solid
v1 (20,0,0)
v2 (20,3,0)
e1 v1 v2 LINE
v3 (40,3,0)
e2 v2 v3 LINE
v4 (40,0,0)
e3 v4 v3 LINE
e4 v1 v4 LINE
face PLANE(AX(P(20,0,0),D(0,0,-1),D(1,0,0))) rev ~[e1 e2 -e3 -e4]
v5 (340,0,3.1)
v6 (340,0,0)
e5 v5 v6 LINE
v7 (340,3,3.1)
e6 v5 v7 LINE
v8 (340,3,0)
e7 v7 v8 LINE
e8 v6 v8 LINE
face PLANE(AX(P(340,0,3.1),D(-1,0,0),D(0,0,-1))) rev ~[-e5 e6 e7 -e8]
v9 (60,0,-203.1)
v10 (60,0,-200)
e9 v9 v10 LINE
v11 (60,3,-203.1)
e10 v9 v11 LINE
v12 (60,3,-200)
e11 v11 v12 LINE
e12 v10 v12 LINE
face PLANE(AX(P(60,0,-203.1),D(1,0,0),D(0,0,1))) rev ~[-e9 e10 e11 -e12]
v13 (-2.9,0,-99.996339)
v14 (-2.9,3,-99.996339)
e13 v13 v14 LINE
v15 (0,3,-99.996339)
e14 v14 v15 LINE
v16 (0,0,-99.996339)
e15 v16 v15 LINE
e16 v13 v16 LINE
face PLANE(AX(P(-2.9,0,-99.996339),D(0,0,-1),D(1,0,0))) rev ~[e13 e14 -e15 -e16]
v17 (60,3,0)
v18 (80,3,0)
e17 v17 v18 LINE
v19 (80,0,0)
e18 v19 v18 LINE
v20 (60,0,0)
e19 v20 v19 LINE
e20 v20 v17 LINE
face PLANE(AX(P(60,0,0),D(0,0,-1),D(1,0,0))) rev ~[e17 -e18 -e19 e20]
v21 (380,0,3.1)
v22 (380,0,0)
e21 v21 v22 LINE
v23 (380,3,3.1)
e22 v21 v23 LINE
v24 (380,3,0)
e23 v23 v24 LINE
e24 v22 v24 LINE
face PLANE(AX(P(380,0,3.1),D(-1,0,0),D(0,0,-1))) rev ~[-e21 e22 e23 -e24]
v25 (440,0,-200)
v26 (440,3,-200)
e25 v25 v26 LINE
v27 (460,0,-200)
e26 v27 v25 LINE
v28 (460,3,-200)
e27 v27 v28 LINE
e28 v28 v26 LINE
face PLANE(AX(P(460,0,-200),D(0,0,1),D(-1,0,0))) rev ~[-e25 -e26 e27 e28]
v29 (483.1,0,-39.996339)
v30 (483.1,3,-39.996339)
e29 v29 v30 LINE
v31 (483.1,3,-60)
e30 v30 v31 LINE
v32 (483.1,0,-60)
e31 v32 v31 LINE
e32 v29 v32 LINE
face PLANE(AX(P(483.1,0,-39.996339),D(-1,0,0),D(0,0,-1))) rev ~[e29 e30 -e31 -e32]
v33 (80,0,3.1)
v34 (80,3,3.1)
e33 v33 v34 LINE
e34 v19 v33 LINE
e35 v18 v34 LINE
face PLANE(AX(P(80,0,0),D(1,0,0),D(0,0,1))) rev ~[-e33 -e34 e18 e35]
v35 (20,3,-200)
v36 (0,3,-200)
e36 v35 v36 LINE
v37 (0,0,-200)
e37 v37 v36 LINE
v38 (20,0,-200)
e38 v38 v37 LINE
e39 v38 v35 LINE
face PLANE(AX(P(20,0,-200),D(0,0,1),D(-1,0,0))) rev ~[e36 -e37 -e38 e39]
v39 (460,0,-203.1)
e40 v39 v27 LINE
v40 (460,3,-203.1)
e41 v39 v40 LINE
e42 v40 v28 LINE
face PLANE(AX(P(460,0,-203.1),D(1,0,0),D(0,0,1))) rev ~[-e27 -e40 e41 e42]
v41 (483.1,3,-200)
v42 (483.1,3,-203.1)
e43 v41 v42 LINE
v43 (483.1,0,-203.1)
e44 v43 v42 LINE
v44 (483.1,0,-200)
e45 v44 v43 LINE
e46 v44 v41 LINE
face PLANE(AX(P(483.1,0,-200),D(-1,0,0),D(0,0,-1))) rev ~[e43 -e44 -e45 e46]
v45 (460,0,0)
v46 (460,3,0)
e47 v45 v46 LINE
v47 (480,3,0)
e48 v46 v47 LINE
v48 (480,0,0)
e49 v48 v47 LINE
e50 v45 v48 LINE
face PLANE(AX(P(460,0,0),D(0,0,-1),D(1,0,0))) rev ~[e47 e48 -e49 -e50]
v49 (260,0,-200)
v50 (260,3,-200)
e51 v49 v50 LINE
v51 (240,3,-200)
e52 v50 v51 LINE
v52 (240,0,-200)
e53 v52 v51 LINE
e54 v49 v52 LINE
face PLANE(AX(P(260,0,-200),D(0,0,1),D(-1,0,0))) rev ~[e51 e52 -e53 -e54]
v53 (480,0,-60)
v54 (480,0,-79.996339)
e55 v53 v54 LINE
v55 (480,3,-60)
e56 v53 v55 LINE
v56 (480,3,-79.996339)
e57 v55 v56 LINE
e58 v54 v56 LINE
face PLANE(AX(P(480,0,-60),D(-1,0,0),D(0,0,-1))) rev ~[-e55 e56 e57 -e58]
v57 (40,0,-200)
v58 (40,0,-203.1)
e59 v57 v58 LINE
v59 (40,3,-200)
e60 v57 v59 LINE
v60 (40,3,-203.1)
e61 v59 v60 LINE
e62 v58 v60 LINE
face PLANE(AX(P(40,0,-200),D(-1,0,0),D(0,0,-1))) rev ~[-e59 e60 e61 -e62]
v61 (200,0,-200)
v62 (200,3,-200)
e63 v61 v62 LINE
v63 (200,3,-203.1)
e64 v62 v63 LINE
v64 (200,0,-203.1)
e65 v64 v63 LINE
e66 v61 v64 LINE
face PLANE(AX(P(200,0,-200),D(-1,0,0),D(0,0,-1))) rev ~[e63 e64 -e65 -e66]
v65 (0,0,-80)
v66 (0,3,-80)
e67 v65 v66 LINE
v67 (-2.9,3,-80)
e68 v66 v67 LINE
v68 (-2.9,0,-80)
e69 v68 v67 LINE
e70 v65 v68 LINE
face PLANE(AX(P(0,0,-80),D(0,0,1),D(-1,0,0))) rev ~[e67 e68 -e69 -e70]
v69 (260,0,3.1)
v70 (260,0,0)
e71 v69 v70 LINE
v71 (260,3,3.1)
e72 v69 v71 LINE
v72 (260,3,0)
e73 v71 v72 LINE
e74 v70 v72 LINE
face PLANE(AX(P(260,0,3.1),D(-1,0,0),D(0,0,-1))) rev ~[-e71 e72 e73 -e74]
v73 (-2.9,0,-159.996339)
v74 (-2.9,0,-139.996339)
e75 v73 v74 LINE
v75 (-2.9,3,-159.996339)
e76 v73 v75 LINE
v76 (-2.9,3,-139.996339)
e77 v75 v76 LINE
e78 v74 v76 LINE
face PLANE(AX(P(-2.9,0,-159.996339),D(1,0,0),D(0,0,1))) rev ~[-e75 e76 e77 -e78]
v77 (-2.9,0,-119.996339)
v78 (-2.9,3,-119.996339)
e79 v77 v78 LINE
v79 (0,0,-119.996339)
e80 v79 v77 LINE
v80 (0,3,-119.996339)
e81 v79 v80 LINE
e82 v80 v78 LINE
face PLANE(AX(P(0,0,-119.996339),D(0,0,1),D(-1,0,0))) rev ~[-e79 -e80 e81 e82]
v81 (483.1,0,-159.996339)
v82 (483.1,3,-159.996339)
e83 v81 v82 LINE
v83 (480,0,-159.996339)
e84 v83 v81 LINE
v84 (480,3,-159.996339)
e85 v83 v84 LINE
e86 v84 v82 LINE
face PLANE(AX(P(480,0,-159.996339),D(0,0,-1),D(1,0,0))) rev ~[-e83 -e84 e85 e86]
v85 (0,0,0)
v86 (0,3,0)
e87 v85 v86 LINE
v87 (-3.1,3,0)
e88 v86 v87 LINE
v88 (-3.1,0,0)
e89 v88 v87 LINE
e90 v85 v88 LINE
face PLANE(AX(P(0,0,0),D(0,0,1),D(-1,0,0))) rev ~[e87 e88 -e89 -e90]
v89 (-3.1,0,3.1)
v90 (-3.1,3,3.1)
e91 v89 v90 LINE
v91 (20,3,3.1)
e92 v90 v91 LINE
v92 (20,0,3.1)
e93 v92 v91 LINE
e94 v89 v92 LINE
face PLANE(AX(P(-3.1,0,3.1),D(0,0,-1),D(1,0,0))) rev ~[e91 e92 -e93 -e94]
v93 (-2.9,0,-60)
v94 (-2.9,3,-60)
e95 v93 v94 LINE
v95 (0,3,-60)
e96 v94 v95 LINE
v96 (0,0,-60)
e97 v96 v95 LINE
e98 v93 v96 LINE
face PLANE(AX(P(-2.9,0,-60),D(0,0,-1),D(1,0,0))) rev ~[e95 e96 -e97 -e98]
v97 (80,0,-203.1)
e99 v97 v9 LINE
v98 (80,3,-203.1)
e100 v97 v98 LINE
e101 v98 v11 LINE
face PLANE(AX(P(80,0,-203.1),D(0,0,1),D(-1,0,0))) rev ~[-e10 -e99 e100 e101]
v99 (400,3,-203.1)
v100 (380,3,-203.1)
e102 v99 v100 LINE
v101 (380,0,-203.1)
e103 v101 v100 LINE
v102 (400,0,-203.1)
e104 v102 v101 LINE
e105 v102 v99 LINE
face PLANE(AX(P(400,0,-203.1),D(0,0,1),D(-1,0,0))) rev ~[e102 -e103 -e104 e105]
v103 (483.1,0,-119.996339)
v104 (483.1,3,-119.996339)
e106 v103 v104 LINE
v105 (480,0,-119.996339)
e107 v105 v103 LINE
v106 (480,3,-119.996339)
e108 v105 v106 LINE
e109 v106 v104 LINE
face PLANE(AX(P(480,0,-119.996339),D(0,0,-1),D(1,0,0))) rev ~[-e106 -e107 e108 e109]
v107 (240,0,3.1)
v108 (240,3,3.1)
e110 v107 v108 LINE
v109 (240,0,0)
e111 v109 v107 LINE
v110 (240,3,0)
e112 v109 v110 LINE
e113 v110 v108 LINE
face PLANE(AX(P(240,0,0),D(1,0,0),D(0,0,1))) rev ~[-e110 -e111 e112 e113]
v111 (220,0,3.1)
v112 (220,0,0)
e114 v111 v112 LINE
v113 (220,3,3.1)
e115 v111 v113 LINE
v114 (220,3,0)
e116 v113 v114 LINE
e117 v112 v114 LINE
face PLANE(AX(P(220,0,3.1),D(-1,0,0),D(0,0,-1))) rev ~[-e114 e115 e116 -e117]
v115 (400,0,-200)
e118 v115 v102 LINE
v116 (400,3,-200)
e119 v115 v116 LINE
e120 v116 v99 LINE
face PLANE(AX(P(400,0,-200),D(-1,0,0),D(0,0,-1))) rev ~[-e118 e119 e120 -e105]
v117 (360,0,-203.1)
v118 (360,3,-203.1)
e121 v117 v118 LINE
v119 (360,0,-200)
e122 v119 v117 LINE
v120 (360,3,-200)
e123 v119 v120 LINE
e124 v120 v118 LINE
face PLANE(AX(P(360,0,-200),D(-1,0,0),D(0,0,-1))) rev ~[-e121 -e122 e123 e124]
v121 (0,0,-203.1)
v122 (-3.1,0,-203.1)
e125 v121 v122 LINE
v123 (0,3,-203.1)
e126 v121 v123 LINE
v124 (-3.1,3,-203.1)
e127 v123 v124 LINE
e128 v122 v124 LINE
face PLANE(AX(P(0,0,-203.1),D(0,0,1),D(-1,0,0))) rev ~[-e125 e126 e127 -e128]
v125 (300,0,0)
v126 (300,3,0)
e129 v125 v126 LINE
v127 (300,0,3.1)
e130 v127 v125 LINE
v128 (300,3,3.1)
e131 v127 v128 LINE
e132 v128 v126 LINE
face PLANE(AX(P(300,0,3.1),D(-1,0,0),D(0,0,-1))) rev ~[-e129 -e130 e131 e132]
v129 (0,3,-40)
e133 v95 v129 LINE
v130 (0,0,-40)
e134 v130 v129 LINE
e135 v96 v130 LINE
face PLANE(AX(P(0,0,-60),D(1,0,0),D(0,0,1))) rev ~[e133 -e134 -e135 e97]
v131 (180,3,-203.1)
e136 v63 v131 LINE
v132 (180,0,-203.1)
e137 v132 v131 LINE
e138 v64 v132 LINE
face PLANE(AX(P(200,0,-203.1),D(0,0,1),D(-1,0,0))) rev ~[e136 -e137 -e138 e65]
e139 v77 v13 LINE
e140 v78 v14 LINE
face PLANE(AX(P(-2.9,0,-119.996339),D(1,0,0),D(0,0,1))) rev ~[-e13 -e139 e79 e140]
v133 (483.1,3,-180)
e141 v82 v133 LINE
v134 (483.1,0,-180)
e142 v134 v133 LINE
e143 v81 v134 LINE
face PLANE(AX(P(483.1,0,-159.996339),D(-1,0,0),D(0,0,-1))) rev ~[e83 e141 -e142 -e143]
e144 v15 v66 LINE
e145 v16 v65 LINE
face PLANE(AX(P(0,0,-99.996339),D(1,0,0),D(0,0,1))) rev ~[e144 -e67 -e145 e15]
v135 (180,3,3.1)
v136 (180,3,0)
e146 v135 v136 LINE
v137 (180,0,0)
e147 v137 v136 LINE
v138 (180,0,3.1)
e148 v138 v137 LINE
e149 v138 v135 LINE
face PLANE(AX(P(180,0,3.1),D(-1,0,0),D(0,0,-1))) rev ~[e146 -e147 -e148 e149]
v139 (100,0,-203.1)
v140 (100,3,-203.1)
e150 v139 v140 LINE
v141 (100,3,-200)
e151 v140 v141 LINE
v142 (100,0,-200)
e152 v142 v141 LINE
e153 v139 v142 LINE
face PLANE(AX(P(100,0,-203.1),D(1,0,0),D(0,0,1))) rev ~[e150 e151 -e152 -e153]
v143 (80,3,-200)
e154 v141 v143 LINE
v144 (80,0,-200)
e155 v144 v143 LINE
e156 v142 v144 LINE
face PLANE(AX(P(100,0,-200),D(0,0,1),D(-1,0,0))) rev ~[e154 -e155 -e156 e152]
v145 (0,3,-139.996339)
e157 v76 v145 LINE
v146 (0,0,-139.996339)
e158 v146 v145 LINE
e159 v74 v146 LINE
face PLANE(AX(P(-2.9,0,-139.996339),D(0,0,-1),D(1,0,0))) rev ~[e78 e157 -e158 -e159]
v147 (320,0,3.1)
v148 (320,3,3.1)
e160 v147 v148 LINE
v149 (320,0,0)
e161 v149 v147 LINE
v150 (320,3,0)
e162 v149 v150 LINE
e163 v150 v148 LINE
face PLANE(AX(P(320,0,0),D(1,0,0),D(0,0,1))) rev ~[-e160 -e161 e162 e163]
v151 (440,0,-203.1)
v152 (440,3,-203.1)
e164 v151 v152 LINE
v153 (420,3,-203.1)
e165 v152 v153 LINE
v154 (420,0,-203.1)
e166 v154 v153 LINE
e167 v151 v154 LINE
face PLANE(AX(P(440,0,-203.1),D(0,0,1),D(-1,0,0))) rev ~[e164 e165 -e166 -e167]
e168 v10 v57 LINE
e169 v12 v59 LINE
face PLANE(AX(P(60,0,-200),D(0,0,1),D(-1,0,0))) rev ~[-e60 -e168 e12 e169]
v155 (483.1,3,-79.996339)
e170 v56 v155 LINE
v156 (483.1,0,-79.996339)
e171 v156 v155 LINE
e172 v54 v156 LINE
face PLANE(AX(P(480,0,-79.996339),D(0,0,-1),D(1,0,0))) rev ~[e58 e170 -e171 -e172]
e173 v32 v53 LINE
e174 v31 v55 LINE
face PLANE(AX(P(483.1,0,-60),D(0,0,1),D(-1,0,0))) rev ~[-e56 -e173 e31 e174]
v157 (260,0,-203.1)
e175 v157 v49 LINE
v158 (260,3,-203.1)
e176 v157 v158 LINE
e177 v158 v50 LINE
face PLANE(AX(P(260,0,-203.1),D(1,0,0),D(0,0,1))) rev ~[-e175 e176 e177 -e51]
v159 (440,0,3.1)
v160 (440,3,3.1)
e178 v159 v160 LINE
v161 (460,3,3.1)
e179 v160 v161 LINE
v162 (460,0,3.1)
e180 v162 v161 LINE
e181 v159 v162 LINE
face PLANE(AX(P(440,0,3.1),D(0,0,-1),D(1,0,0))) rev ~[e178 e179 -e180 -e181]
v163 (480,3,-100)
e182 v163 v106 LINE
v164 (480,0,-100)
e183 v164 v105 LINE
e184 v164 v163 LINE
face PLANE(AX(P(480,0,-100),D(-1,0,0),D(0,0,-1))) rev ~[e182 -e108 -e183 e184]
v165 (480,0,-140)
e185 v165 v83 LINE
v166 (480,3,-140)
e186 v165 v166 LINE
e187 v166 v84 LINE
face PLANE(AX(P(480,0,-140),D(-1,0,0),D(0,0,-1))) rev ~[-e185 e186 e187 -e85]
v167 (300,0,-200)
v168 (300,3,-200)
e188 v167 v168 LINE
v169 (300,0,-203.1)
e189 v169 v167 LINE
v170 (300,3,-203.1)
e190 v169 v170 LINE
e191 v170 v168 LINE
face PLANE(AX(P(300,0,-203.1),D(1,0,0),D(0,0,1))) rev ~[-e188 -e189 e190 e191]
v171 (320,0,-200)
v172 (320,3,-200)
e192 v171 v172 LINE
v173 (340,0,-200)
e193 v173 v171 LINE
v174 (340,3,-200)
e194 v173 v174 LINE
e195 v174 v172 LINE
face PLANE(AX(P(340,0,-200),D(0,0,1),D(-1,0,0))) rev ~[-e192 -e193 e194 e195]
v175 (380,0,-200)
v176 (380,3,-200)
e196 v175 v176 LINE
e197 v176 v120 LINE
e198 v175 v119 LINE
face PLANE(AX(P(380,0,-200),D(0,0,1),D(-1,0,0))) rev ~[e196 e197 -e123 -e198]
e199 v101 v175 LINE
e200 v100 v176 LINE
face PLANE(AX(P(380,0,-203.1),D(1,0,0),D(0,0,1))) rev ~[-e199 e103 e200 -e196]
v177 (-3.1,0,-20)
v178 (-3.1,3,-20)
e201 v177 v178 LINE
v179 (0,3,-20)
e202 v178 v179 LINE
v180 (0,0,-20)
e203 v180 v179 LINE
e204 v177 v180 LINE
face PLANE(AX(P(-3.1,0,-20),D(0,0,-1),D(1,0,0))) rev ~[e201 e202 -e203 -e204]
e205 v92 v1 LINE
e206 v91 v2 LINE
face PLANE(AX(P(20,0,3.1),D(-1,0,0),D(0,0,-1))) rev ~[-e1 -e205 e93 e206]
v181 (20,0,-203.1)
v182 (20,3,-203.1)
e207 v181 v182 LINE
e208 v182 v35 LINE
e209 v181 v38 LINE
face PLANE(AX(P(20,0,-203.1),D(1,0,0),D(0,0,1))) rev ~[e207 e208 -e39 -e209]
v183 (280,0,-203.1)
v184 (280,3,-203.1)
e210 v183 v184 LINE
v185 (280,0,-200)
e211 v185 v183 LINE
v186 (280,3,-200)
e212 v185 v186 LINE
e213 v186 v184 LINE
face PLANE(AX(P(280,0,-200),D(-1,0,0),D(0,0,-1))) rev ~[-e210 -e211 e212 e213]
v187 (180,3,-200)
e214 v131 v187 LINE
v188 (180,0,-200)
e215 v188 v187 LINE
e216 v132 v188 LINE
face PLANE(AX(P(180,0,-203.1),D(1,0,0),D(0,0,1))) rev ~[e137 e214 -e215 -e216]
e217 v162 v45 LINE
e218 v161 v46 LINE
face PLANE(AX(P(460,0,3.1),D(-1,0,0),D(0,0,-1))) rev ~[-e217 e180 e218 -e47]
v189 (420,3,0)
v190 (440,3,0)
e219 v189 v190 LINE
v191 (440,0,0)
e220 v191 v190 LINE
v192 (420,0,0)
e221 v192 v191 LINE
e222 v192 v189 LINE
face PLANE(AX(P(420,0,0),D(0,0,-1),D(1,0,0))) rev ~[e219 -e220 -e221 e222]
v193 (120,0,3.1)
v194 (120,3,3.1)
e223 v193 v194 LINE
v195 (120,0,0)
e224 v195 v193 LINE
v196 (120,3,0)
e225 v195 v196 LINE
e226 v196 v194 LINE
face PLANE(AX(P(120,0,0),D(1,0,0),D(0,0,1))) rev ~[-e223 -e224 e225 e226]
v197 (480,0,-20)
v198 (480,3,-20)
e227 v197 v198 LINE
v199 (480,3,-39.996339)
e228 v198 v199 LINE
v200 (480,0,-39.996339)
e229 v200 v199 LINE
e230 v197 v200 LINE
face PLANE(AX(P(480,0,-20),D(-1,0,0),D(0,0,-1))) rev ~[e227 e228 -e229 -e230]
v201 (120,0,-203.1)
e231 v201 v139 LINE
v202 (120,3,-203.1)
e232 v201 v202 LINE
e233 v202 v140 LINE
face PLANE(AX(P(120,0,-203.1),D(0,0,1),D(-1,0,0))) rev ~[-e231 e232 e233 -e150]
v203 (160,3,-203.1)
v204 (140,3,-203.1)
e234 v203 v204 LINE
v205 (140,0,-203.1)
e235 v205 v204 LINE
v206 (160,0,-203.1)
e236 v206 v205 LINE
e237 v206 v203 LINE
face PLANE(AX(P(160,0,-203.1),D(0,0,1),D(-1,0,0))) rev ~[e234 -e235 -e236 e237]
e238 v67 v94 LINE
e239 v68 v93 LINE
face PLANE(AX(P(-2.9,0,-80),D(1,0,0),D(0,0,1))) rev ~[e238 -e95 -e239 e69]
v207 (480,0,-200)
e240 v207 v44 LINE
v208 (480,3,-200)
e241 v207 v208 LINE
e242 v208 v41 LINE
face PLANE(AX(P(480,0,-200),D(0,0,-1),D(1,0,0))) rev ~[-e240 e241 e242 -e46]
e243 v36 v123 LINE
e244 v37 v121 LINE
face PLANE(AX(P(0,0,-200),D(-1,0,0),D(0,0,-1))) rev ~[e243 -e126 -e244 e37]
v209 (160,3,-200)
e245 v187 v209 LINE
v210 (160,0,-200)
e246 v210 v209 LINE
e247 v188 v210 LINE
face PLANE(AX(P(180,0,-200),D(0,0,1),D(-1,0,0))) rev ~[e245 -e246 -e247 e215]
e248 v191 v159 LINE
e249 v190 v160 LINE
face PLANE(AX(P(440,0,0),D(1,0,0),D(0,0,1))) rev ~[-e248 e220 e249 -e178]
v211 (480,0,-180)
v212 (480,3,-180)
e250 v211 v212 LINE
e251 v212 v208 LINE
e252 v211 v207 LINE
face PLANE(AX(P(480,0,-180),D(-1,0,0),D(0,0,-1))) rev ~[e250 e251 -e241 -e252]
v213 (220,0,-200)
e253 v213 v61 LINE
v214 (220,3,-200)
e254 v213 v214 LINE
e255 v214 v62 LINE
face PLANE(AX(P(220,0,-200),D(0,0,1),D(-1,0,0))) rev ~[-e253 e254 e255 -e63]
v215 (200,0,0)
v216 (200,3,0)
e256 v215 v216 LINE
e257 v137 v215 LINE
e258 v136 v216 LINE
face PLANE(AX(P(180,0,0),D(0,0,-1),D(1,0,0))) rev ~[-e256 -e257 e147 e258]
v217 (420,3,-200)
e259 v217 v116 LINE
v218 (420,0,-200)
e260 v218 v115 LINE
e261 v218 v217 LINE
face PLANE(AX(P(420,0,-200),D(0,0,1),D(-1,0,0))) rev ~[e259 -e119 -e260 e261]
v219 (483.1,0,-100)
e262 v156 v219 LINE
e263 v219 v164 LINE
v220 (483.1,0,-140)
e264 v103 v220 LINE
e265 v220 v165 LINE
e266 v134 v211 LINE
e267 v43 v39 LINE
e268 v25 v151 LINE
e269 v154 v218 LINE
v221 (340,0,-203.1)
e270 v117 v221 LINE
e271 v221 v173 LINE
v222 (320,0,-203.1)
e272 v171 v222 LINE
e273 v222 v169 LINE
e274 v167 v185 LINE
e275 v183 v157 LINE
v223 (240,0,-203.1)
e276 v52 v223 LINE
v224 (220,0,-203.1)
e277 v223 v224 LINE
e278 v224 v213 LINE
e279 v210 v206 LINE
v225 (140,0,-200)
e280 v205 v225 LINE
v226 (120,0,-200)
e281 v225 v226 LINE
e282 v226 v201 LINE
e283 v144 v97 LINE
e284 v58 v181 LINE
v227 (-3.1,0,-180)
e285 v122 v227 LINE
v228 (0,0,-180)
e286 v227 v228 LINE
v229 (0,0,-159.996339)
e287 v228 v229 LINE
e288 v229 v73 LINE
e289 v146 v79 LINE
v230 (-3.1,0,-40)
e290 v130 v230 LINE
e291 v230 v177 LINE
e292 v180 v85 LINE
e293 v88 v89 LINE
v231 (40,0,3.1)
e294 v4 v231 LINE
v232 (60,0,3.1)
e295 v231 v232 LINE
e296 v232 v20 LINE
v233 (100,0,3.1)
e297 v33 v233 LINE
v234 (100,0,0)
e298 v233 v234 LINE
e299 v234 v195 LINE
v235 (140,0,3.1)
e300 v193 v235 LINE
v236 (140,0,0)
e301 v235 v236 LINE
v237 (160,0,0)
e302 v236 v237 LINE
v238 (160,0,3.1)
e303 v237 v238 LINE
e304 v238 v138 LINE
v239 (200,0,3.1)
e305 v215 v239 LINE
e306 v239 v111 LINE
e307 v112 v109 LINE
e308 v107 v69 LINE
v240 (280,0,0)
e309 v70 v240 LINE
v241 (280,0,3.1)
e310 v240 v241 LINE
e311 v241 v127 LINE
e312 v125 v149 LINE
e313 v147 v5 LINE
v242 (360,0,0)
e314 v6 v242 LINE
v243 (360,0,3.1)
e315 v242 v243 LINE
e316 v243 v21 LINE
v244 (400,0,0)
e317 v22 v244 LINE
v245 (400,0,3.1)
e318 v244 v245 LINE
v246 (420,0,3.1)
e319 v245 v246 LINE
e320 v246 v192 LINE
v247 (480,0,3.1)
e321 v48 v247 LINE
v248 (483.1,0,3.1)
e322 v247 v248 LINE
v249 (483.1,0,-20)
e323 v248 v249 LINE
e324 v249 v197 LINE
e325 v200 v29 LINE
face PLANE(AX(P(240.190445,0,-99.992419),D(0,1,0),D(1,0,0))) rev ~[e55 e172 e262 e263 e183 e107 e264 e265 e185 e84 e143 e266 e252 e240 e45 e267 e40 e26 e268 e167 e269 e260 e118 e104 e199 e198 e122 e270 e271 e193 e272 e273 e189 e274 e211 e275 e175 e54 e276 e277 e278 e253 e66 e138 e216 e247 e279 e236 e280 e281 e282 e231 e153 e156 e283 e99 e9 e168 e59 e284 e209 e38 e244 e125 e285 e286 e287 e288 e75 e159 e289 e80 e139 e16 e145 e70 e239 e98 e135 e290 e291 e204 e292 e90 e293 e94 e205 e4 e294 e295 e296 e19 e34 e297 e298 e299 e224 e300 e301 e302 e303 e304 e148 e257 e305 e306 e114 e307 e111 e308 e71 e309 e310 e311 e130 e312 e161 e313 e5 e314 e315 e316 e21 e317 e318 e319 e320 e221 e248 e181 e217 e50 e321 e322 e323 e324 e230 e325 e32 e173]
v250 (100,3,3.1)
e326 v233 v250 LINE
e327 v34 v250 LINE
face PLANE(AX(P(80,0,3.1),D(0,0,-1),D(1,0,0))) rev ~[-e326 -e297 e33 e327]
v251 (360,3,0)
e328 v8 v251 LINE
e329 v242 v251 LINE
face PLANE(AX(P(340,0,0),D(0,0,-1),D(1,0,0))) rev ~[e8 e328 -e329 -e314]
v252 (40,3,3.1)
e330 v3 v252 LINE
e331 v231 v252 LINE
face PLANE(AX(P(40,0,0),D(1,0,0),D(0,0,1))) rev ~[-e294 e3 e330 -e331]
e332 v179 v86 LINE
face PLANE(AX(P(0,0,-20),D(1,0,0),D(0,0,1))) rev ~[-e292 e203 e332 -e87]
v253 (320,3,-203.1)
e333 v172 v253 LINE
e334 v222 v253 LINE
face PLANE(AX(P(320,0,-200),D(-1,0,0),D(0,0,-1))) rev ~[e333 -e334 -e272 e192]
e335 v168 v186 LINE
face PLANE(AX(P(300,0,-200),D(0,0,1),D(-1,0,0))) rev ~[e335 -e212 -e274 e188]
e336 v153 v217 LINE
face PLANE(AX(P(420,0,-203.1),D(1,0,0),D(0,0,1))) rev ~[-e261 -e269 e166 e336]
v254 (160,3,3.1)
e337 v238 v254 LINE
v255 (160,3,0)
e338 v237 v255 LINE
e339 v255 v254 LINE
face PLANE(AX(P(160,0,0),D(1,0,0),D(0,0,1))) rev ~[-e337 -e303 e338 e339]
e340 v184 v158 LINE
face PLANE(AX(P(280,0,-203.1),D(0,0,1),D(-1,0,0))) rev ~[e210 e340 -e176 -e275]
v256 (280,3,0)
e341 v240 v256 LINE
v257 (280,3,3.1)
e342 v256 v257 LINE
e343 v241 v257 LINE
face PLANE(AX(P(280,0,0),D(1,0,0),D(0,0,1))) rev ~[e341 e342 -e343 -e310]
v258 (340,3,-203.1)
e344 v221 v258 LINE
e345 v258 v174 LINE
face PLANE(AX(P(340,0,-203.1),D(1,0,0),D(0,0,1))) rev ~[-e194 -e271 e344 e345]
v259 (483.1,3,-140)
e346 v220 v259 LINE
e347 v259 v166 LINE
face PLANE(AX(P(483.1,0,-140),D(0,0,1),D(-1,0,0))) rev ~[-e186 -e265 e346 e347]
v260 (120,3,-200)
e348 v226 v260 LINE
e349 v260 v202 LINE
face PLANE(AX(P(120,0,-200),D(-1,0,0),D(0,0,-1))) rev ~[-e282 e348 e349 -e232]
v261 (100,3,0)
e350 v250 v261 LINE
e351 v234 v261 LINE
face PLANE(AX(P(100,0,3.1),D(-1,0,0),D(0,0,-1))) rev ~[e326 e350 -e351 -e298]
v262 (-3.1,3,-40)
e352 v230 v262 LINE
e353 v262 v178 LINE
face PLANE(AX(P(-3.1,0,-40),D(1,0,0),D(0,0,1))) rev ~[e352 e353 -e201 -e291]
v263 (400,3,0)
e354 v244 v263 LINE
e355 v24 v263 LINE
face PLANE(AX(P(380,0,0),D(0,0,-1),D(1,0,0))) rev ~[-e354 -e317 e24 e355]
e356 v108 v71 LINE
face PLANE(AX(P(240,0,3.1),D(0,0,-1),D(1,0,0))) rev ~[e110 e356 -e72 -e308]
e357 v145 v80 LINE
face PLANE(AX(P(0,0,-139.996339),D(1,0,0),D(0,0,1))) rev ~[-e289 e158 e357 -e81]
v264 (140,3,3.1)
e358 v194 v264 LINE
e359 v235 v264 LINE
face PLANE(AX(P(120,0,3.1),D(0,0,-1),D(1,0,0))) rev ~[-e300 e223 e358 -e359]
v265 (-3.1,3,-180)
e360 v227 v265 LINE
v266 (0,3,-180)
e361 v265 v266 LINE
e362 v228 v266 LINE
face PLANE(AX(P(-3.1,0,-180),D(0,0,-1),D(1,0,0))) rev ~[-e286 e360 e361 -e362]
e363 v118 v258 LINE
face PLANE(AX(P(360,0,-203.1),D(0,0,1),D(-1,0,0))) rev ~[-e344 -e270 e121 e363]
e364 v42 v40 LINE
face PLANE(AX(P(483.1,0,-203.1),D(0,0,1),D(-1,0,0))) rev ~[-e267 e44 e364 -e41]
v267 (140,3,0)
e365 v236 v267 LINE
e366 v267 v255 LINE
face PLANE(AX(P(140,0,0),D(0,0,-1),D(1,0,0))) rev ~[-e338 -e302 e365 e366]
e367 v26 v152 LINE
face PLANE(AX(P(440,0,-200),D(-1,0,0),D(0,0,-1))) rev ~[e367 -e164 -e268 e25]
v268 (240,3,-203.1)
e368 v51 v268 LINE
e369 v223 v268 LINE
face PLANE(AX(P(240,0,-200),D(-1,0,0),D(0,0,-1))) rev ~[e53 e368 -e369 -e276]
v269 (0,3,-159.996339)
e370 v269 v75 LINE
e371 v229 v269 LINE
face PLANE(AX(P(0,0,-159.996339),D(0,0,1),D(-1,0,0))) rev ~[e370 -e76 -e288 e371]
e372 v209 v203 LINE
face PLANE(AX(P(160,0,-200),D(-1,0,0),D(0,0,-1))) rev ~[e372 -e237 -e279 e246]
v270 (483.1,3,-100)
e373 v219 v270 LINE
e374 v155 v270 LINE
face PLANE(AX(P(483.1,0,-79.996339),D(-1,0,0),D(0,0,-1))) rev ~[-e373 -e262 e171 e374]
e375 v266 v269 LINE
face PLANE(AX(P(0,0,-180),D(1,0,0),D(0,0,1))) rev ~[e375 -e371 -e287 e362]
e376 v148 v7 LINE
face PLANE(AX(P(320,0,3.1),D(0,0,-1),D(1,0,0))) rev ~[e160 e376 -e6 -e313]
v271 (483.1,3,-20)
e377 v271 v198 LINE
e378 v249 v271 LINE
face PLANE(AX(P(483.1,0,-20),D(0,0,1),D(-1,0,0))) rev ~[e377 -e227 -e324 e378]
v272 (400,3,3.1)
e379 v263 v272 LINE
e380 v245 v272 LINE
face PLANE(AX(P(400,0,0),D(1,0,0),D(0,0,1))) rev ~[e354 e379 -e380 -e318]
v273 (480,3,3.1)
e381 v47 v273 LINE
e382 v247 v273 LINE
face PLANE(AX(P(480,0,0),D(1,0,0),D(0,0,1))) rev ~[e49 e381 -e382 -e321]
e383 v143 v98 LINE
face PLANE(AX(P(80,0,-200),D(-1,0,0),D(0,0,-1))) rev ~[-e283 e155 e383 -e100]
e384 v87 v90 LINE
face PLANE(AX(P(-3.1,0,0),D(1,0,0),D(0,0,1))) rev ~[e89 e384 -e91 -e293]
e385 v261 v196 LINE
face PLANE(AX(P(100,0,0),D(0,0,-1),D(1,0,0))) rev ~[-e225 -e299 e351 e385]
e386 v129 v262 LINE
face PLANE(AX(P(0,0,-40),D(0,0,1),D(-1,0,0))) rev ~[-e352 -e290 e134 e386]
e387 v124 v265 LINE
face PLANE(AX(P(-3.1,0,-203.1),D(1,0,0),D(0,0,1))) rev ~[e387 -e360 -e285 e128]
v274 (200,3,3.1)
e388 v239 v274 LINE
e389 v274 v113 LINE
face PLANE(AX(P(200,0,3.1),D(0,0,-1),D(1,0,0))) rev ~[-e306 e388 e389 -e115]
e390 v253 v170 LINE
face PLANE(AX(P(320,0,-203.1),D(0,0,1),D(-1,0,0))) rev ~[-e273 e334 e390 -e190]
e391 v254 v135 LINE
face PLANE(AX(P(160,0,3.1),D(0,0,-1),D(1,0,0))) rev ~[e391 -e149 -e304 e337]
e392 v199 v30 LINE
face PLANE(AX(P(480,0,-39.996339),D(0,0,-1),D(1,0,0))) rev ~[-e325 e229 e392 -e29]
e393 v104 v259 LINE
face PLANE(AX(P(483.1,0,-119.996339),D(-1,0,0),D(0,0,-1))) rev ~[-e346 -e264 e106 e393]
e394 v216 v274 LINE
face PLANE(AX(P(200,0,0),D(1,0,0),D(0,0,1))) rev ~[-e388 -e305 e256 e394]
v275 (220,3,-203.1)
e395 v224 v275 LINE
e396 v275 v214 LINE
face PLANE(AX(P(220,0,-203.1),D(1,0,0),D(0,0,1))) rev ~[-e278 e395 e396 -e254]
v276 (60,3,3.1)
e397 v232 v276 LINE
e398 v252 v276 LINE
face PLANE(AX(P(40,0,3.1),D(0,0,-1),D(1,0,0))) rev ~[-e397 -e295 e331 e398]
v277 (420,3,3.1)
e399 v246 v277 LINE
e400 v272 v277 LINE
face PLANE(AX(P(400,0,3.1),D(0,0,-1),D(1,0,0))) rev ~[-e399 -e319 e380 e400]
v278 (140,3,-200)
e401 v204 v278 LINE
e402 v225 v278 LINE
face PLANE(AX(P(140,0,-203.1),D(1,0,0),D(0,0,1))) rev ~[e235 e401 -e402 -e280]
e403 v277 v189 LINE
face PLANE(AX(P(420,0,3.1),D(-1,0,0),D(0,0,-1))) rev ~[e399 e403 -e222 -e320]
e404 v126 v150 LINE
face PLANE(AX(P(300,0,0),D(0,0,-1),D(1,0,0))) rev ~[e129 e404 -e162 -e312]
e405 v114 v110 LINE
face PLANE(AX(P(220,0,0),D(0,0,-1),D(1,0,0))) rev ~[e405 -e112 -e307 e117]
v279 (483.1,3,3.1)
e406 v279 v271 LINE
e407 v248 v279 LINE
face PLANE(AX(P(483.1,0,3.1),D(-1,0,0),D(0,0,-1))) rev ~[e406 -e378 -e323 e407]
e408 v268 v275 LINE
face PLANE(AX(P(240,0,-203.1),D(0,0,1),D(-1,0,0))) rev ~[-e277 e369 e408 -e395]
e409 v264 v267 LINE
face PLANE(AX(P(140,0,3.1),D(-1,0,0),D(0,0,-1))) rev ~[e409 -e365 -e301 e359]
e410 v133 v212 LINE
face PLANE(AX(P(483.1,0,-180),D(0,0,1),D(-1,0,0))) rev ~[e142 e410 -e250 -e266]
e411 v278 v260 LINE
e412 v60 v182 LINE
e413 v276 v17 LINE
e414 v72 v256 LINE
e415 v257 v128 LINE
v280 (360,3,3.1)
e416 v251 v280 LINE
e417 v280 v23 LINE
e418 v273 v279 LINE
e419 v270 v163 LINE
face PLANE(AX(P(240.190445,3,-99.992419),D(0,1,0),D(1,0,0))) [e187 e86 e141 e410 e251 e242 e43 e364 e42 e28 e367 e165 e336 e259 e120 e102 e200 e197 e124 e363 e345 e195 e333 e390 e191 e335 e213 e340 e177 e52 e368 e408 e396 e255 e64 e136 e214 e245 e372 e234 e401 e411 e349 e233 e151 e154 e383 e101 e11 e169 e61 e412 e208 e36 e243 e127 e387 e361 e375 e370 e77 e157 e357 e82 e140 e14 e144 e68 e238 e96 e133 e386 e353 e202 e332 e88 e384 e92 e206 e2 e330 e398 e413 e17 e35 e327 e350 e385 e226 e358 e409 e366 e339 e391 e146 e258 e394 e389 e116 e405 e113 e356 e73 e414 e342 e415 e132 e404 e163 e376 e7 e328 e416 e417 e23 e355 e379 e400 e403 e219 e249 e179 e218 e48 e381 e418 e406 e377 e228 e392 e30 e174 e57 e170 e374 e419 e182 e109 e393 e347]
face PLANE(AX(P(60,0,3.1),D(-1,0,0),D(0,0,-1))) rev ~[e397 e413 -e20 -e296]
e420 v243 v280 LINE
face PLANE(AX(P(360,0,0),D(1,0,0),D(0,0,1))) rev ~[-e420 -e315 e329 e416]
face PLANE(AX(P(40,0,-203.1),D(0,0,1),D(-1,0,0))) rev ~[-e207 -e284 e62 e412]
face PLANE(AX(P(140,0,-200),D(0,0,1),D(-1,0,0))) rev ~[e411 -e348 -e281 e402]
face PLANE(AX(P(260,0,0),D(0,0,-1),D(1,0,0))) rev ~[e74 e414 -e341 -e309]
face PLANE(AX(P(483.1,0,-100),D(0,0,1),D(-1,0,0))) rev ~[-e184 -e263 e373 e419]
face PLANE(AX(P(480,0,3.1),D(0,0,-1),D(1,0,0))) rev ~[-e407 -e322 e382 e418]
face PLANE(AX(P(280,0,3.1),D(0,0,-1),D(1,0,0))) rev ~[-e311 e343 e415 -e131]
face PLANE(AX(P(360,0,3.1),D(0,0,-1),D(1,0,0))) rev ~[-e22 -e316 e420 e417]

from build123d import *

# Parameters (mm, degrees)
SALIENTE_EXTRUIR1_DEPTH = 3


with BuildPart() as part:
    # Croquis1 → Saliente-Extruir1 (new body)
    with BuildSketch(Plane(origin=(0, 0, 0), x_dir=(1, 0, 0), z_dir=(0, 1, 0))):
        Polygon((0, 200), (0, 203.1), (-3.1, 203.1), (-3.1, 180), (0, 180), (0, 159.996339437), (-2.9, 159.996339437), (-2.9, 139.996339437), (0, 139.996339437), (0, 119.996339437), (-2.9, 119.996339437), (-2.9, 99.996339437), (0, 99.996339437), (0, 80), (-2.9, 80), (-2.9, 60), (0, 60), (0, 40), (-3.1, 40), (-3.1, 20), (0, 20), (0, 0), (-3.1, 0), (-3.1, -3.1), (20, -3.1), (20, 0), (40, 0), (40, -3.1), (60, -3.1), (60, 0), (80, 0), (80, -3.1), (100, -3.1), (100, 0), (120, 0), (120, -3.1), (140, -3.1), (140, 0), (160, 0), (160, -3.1), (180, -3.1), (180, 0), (200, 0), (200, -3.1), (220, -3.1), (220, 0), (240, 0), (240, -3.1), (260, -3.1), (260, 0), (280, 0), (280, -3.1), (300, -3.1), (300, 0), (320, 0), (320, -3.1), (340, -3.1), (340, 0), (360, 0), (360, -3.1), (380, -3.1), (380, 0), (400, 0), (400, -3.1), (420, -3.1), (420, 0), (440, 0), (440, -3.1), (460, -3.1), (460, 0), (480, 0), (480, -3.1), (483.1, -3.1), (483.1, 20), (480, 20), (480, 39.996339437), (483.1, 39.996339437), (483.1, 60), (480, 60), (480, 79.996339437), (483.1, 79.996339437), (483.1, 100), (480, 100), (480, 119.996339437), (483.1, 119.996339437), (483.1, 140), (480, 140), (480, 159.996339437), (483.1, 159.996339437), (483.1, 180), (480, 180), (480, 200), (483.1, 200), (483.1, 203.1), (460, 203.1), (460, 200), (440, 200), (440, 203.1), (420, 203.1), (420, 200), (400, 200), (400, 203.1), (380, 203.1), (380, 200), (360, 200), (360, 203.1), (340, 203.1), (340, 200), (320, 200), (320, 203.1), (300, 203.1), (300, 200), (280, 200), (280, 203.1), (260, 203.1), (260, 200), (240, 200), (240, 203.1), (220, 203.1), (220, 200), (200, 200), (200, 203.1), (180, 203.1), (180, 200), (160, 200), (160, 203.1), (140, 203.1), (140, 200), (120, 200), (120, 203.1), (100, 203.1), (100, 200), (80, 200), (80, 203.1), (60, 203.1), (60, 200), (40, 200), (40, 203.1), (20, 203.1), (20, 200), align=None)
    extrude(amount=SALIENTE_EXTRUIR1_DEPTH)


solid = part.part
